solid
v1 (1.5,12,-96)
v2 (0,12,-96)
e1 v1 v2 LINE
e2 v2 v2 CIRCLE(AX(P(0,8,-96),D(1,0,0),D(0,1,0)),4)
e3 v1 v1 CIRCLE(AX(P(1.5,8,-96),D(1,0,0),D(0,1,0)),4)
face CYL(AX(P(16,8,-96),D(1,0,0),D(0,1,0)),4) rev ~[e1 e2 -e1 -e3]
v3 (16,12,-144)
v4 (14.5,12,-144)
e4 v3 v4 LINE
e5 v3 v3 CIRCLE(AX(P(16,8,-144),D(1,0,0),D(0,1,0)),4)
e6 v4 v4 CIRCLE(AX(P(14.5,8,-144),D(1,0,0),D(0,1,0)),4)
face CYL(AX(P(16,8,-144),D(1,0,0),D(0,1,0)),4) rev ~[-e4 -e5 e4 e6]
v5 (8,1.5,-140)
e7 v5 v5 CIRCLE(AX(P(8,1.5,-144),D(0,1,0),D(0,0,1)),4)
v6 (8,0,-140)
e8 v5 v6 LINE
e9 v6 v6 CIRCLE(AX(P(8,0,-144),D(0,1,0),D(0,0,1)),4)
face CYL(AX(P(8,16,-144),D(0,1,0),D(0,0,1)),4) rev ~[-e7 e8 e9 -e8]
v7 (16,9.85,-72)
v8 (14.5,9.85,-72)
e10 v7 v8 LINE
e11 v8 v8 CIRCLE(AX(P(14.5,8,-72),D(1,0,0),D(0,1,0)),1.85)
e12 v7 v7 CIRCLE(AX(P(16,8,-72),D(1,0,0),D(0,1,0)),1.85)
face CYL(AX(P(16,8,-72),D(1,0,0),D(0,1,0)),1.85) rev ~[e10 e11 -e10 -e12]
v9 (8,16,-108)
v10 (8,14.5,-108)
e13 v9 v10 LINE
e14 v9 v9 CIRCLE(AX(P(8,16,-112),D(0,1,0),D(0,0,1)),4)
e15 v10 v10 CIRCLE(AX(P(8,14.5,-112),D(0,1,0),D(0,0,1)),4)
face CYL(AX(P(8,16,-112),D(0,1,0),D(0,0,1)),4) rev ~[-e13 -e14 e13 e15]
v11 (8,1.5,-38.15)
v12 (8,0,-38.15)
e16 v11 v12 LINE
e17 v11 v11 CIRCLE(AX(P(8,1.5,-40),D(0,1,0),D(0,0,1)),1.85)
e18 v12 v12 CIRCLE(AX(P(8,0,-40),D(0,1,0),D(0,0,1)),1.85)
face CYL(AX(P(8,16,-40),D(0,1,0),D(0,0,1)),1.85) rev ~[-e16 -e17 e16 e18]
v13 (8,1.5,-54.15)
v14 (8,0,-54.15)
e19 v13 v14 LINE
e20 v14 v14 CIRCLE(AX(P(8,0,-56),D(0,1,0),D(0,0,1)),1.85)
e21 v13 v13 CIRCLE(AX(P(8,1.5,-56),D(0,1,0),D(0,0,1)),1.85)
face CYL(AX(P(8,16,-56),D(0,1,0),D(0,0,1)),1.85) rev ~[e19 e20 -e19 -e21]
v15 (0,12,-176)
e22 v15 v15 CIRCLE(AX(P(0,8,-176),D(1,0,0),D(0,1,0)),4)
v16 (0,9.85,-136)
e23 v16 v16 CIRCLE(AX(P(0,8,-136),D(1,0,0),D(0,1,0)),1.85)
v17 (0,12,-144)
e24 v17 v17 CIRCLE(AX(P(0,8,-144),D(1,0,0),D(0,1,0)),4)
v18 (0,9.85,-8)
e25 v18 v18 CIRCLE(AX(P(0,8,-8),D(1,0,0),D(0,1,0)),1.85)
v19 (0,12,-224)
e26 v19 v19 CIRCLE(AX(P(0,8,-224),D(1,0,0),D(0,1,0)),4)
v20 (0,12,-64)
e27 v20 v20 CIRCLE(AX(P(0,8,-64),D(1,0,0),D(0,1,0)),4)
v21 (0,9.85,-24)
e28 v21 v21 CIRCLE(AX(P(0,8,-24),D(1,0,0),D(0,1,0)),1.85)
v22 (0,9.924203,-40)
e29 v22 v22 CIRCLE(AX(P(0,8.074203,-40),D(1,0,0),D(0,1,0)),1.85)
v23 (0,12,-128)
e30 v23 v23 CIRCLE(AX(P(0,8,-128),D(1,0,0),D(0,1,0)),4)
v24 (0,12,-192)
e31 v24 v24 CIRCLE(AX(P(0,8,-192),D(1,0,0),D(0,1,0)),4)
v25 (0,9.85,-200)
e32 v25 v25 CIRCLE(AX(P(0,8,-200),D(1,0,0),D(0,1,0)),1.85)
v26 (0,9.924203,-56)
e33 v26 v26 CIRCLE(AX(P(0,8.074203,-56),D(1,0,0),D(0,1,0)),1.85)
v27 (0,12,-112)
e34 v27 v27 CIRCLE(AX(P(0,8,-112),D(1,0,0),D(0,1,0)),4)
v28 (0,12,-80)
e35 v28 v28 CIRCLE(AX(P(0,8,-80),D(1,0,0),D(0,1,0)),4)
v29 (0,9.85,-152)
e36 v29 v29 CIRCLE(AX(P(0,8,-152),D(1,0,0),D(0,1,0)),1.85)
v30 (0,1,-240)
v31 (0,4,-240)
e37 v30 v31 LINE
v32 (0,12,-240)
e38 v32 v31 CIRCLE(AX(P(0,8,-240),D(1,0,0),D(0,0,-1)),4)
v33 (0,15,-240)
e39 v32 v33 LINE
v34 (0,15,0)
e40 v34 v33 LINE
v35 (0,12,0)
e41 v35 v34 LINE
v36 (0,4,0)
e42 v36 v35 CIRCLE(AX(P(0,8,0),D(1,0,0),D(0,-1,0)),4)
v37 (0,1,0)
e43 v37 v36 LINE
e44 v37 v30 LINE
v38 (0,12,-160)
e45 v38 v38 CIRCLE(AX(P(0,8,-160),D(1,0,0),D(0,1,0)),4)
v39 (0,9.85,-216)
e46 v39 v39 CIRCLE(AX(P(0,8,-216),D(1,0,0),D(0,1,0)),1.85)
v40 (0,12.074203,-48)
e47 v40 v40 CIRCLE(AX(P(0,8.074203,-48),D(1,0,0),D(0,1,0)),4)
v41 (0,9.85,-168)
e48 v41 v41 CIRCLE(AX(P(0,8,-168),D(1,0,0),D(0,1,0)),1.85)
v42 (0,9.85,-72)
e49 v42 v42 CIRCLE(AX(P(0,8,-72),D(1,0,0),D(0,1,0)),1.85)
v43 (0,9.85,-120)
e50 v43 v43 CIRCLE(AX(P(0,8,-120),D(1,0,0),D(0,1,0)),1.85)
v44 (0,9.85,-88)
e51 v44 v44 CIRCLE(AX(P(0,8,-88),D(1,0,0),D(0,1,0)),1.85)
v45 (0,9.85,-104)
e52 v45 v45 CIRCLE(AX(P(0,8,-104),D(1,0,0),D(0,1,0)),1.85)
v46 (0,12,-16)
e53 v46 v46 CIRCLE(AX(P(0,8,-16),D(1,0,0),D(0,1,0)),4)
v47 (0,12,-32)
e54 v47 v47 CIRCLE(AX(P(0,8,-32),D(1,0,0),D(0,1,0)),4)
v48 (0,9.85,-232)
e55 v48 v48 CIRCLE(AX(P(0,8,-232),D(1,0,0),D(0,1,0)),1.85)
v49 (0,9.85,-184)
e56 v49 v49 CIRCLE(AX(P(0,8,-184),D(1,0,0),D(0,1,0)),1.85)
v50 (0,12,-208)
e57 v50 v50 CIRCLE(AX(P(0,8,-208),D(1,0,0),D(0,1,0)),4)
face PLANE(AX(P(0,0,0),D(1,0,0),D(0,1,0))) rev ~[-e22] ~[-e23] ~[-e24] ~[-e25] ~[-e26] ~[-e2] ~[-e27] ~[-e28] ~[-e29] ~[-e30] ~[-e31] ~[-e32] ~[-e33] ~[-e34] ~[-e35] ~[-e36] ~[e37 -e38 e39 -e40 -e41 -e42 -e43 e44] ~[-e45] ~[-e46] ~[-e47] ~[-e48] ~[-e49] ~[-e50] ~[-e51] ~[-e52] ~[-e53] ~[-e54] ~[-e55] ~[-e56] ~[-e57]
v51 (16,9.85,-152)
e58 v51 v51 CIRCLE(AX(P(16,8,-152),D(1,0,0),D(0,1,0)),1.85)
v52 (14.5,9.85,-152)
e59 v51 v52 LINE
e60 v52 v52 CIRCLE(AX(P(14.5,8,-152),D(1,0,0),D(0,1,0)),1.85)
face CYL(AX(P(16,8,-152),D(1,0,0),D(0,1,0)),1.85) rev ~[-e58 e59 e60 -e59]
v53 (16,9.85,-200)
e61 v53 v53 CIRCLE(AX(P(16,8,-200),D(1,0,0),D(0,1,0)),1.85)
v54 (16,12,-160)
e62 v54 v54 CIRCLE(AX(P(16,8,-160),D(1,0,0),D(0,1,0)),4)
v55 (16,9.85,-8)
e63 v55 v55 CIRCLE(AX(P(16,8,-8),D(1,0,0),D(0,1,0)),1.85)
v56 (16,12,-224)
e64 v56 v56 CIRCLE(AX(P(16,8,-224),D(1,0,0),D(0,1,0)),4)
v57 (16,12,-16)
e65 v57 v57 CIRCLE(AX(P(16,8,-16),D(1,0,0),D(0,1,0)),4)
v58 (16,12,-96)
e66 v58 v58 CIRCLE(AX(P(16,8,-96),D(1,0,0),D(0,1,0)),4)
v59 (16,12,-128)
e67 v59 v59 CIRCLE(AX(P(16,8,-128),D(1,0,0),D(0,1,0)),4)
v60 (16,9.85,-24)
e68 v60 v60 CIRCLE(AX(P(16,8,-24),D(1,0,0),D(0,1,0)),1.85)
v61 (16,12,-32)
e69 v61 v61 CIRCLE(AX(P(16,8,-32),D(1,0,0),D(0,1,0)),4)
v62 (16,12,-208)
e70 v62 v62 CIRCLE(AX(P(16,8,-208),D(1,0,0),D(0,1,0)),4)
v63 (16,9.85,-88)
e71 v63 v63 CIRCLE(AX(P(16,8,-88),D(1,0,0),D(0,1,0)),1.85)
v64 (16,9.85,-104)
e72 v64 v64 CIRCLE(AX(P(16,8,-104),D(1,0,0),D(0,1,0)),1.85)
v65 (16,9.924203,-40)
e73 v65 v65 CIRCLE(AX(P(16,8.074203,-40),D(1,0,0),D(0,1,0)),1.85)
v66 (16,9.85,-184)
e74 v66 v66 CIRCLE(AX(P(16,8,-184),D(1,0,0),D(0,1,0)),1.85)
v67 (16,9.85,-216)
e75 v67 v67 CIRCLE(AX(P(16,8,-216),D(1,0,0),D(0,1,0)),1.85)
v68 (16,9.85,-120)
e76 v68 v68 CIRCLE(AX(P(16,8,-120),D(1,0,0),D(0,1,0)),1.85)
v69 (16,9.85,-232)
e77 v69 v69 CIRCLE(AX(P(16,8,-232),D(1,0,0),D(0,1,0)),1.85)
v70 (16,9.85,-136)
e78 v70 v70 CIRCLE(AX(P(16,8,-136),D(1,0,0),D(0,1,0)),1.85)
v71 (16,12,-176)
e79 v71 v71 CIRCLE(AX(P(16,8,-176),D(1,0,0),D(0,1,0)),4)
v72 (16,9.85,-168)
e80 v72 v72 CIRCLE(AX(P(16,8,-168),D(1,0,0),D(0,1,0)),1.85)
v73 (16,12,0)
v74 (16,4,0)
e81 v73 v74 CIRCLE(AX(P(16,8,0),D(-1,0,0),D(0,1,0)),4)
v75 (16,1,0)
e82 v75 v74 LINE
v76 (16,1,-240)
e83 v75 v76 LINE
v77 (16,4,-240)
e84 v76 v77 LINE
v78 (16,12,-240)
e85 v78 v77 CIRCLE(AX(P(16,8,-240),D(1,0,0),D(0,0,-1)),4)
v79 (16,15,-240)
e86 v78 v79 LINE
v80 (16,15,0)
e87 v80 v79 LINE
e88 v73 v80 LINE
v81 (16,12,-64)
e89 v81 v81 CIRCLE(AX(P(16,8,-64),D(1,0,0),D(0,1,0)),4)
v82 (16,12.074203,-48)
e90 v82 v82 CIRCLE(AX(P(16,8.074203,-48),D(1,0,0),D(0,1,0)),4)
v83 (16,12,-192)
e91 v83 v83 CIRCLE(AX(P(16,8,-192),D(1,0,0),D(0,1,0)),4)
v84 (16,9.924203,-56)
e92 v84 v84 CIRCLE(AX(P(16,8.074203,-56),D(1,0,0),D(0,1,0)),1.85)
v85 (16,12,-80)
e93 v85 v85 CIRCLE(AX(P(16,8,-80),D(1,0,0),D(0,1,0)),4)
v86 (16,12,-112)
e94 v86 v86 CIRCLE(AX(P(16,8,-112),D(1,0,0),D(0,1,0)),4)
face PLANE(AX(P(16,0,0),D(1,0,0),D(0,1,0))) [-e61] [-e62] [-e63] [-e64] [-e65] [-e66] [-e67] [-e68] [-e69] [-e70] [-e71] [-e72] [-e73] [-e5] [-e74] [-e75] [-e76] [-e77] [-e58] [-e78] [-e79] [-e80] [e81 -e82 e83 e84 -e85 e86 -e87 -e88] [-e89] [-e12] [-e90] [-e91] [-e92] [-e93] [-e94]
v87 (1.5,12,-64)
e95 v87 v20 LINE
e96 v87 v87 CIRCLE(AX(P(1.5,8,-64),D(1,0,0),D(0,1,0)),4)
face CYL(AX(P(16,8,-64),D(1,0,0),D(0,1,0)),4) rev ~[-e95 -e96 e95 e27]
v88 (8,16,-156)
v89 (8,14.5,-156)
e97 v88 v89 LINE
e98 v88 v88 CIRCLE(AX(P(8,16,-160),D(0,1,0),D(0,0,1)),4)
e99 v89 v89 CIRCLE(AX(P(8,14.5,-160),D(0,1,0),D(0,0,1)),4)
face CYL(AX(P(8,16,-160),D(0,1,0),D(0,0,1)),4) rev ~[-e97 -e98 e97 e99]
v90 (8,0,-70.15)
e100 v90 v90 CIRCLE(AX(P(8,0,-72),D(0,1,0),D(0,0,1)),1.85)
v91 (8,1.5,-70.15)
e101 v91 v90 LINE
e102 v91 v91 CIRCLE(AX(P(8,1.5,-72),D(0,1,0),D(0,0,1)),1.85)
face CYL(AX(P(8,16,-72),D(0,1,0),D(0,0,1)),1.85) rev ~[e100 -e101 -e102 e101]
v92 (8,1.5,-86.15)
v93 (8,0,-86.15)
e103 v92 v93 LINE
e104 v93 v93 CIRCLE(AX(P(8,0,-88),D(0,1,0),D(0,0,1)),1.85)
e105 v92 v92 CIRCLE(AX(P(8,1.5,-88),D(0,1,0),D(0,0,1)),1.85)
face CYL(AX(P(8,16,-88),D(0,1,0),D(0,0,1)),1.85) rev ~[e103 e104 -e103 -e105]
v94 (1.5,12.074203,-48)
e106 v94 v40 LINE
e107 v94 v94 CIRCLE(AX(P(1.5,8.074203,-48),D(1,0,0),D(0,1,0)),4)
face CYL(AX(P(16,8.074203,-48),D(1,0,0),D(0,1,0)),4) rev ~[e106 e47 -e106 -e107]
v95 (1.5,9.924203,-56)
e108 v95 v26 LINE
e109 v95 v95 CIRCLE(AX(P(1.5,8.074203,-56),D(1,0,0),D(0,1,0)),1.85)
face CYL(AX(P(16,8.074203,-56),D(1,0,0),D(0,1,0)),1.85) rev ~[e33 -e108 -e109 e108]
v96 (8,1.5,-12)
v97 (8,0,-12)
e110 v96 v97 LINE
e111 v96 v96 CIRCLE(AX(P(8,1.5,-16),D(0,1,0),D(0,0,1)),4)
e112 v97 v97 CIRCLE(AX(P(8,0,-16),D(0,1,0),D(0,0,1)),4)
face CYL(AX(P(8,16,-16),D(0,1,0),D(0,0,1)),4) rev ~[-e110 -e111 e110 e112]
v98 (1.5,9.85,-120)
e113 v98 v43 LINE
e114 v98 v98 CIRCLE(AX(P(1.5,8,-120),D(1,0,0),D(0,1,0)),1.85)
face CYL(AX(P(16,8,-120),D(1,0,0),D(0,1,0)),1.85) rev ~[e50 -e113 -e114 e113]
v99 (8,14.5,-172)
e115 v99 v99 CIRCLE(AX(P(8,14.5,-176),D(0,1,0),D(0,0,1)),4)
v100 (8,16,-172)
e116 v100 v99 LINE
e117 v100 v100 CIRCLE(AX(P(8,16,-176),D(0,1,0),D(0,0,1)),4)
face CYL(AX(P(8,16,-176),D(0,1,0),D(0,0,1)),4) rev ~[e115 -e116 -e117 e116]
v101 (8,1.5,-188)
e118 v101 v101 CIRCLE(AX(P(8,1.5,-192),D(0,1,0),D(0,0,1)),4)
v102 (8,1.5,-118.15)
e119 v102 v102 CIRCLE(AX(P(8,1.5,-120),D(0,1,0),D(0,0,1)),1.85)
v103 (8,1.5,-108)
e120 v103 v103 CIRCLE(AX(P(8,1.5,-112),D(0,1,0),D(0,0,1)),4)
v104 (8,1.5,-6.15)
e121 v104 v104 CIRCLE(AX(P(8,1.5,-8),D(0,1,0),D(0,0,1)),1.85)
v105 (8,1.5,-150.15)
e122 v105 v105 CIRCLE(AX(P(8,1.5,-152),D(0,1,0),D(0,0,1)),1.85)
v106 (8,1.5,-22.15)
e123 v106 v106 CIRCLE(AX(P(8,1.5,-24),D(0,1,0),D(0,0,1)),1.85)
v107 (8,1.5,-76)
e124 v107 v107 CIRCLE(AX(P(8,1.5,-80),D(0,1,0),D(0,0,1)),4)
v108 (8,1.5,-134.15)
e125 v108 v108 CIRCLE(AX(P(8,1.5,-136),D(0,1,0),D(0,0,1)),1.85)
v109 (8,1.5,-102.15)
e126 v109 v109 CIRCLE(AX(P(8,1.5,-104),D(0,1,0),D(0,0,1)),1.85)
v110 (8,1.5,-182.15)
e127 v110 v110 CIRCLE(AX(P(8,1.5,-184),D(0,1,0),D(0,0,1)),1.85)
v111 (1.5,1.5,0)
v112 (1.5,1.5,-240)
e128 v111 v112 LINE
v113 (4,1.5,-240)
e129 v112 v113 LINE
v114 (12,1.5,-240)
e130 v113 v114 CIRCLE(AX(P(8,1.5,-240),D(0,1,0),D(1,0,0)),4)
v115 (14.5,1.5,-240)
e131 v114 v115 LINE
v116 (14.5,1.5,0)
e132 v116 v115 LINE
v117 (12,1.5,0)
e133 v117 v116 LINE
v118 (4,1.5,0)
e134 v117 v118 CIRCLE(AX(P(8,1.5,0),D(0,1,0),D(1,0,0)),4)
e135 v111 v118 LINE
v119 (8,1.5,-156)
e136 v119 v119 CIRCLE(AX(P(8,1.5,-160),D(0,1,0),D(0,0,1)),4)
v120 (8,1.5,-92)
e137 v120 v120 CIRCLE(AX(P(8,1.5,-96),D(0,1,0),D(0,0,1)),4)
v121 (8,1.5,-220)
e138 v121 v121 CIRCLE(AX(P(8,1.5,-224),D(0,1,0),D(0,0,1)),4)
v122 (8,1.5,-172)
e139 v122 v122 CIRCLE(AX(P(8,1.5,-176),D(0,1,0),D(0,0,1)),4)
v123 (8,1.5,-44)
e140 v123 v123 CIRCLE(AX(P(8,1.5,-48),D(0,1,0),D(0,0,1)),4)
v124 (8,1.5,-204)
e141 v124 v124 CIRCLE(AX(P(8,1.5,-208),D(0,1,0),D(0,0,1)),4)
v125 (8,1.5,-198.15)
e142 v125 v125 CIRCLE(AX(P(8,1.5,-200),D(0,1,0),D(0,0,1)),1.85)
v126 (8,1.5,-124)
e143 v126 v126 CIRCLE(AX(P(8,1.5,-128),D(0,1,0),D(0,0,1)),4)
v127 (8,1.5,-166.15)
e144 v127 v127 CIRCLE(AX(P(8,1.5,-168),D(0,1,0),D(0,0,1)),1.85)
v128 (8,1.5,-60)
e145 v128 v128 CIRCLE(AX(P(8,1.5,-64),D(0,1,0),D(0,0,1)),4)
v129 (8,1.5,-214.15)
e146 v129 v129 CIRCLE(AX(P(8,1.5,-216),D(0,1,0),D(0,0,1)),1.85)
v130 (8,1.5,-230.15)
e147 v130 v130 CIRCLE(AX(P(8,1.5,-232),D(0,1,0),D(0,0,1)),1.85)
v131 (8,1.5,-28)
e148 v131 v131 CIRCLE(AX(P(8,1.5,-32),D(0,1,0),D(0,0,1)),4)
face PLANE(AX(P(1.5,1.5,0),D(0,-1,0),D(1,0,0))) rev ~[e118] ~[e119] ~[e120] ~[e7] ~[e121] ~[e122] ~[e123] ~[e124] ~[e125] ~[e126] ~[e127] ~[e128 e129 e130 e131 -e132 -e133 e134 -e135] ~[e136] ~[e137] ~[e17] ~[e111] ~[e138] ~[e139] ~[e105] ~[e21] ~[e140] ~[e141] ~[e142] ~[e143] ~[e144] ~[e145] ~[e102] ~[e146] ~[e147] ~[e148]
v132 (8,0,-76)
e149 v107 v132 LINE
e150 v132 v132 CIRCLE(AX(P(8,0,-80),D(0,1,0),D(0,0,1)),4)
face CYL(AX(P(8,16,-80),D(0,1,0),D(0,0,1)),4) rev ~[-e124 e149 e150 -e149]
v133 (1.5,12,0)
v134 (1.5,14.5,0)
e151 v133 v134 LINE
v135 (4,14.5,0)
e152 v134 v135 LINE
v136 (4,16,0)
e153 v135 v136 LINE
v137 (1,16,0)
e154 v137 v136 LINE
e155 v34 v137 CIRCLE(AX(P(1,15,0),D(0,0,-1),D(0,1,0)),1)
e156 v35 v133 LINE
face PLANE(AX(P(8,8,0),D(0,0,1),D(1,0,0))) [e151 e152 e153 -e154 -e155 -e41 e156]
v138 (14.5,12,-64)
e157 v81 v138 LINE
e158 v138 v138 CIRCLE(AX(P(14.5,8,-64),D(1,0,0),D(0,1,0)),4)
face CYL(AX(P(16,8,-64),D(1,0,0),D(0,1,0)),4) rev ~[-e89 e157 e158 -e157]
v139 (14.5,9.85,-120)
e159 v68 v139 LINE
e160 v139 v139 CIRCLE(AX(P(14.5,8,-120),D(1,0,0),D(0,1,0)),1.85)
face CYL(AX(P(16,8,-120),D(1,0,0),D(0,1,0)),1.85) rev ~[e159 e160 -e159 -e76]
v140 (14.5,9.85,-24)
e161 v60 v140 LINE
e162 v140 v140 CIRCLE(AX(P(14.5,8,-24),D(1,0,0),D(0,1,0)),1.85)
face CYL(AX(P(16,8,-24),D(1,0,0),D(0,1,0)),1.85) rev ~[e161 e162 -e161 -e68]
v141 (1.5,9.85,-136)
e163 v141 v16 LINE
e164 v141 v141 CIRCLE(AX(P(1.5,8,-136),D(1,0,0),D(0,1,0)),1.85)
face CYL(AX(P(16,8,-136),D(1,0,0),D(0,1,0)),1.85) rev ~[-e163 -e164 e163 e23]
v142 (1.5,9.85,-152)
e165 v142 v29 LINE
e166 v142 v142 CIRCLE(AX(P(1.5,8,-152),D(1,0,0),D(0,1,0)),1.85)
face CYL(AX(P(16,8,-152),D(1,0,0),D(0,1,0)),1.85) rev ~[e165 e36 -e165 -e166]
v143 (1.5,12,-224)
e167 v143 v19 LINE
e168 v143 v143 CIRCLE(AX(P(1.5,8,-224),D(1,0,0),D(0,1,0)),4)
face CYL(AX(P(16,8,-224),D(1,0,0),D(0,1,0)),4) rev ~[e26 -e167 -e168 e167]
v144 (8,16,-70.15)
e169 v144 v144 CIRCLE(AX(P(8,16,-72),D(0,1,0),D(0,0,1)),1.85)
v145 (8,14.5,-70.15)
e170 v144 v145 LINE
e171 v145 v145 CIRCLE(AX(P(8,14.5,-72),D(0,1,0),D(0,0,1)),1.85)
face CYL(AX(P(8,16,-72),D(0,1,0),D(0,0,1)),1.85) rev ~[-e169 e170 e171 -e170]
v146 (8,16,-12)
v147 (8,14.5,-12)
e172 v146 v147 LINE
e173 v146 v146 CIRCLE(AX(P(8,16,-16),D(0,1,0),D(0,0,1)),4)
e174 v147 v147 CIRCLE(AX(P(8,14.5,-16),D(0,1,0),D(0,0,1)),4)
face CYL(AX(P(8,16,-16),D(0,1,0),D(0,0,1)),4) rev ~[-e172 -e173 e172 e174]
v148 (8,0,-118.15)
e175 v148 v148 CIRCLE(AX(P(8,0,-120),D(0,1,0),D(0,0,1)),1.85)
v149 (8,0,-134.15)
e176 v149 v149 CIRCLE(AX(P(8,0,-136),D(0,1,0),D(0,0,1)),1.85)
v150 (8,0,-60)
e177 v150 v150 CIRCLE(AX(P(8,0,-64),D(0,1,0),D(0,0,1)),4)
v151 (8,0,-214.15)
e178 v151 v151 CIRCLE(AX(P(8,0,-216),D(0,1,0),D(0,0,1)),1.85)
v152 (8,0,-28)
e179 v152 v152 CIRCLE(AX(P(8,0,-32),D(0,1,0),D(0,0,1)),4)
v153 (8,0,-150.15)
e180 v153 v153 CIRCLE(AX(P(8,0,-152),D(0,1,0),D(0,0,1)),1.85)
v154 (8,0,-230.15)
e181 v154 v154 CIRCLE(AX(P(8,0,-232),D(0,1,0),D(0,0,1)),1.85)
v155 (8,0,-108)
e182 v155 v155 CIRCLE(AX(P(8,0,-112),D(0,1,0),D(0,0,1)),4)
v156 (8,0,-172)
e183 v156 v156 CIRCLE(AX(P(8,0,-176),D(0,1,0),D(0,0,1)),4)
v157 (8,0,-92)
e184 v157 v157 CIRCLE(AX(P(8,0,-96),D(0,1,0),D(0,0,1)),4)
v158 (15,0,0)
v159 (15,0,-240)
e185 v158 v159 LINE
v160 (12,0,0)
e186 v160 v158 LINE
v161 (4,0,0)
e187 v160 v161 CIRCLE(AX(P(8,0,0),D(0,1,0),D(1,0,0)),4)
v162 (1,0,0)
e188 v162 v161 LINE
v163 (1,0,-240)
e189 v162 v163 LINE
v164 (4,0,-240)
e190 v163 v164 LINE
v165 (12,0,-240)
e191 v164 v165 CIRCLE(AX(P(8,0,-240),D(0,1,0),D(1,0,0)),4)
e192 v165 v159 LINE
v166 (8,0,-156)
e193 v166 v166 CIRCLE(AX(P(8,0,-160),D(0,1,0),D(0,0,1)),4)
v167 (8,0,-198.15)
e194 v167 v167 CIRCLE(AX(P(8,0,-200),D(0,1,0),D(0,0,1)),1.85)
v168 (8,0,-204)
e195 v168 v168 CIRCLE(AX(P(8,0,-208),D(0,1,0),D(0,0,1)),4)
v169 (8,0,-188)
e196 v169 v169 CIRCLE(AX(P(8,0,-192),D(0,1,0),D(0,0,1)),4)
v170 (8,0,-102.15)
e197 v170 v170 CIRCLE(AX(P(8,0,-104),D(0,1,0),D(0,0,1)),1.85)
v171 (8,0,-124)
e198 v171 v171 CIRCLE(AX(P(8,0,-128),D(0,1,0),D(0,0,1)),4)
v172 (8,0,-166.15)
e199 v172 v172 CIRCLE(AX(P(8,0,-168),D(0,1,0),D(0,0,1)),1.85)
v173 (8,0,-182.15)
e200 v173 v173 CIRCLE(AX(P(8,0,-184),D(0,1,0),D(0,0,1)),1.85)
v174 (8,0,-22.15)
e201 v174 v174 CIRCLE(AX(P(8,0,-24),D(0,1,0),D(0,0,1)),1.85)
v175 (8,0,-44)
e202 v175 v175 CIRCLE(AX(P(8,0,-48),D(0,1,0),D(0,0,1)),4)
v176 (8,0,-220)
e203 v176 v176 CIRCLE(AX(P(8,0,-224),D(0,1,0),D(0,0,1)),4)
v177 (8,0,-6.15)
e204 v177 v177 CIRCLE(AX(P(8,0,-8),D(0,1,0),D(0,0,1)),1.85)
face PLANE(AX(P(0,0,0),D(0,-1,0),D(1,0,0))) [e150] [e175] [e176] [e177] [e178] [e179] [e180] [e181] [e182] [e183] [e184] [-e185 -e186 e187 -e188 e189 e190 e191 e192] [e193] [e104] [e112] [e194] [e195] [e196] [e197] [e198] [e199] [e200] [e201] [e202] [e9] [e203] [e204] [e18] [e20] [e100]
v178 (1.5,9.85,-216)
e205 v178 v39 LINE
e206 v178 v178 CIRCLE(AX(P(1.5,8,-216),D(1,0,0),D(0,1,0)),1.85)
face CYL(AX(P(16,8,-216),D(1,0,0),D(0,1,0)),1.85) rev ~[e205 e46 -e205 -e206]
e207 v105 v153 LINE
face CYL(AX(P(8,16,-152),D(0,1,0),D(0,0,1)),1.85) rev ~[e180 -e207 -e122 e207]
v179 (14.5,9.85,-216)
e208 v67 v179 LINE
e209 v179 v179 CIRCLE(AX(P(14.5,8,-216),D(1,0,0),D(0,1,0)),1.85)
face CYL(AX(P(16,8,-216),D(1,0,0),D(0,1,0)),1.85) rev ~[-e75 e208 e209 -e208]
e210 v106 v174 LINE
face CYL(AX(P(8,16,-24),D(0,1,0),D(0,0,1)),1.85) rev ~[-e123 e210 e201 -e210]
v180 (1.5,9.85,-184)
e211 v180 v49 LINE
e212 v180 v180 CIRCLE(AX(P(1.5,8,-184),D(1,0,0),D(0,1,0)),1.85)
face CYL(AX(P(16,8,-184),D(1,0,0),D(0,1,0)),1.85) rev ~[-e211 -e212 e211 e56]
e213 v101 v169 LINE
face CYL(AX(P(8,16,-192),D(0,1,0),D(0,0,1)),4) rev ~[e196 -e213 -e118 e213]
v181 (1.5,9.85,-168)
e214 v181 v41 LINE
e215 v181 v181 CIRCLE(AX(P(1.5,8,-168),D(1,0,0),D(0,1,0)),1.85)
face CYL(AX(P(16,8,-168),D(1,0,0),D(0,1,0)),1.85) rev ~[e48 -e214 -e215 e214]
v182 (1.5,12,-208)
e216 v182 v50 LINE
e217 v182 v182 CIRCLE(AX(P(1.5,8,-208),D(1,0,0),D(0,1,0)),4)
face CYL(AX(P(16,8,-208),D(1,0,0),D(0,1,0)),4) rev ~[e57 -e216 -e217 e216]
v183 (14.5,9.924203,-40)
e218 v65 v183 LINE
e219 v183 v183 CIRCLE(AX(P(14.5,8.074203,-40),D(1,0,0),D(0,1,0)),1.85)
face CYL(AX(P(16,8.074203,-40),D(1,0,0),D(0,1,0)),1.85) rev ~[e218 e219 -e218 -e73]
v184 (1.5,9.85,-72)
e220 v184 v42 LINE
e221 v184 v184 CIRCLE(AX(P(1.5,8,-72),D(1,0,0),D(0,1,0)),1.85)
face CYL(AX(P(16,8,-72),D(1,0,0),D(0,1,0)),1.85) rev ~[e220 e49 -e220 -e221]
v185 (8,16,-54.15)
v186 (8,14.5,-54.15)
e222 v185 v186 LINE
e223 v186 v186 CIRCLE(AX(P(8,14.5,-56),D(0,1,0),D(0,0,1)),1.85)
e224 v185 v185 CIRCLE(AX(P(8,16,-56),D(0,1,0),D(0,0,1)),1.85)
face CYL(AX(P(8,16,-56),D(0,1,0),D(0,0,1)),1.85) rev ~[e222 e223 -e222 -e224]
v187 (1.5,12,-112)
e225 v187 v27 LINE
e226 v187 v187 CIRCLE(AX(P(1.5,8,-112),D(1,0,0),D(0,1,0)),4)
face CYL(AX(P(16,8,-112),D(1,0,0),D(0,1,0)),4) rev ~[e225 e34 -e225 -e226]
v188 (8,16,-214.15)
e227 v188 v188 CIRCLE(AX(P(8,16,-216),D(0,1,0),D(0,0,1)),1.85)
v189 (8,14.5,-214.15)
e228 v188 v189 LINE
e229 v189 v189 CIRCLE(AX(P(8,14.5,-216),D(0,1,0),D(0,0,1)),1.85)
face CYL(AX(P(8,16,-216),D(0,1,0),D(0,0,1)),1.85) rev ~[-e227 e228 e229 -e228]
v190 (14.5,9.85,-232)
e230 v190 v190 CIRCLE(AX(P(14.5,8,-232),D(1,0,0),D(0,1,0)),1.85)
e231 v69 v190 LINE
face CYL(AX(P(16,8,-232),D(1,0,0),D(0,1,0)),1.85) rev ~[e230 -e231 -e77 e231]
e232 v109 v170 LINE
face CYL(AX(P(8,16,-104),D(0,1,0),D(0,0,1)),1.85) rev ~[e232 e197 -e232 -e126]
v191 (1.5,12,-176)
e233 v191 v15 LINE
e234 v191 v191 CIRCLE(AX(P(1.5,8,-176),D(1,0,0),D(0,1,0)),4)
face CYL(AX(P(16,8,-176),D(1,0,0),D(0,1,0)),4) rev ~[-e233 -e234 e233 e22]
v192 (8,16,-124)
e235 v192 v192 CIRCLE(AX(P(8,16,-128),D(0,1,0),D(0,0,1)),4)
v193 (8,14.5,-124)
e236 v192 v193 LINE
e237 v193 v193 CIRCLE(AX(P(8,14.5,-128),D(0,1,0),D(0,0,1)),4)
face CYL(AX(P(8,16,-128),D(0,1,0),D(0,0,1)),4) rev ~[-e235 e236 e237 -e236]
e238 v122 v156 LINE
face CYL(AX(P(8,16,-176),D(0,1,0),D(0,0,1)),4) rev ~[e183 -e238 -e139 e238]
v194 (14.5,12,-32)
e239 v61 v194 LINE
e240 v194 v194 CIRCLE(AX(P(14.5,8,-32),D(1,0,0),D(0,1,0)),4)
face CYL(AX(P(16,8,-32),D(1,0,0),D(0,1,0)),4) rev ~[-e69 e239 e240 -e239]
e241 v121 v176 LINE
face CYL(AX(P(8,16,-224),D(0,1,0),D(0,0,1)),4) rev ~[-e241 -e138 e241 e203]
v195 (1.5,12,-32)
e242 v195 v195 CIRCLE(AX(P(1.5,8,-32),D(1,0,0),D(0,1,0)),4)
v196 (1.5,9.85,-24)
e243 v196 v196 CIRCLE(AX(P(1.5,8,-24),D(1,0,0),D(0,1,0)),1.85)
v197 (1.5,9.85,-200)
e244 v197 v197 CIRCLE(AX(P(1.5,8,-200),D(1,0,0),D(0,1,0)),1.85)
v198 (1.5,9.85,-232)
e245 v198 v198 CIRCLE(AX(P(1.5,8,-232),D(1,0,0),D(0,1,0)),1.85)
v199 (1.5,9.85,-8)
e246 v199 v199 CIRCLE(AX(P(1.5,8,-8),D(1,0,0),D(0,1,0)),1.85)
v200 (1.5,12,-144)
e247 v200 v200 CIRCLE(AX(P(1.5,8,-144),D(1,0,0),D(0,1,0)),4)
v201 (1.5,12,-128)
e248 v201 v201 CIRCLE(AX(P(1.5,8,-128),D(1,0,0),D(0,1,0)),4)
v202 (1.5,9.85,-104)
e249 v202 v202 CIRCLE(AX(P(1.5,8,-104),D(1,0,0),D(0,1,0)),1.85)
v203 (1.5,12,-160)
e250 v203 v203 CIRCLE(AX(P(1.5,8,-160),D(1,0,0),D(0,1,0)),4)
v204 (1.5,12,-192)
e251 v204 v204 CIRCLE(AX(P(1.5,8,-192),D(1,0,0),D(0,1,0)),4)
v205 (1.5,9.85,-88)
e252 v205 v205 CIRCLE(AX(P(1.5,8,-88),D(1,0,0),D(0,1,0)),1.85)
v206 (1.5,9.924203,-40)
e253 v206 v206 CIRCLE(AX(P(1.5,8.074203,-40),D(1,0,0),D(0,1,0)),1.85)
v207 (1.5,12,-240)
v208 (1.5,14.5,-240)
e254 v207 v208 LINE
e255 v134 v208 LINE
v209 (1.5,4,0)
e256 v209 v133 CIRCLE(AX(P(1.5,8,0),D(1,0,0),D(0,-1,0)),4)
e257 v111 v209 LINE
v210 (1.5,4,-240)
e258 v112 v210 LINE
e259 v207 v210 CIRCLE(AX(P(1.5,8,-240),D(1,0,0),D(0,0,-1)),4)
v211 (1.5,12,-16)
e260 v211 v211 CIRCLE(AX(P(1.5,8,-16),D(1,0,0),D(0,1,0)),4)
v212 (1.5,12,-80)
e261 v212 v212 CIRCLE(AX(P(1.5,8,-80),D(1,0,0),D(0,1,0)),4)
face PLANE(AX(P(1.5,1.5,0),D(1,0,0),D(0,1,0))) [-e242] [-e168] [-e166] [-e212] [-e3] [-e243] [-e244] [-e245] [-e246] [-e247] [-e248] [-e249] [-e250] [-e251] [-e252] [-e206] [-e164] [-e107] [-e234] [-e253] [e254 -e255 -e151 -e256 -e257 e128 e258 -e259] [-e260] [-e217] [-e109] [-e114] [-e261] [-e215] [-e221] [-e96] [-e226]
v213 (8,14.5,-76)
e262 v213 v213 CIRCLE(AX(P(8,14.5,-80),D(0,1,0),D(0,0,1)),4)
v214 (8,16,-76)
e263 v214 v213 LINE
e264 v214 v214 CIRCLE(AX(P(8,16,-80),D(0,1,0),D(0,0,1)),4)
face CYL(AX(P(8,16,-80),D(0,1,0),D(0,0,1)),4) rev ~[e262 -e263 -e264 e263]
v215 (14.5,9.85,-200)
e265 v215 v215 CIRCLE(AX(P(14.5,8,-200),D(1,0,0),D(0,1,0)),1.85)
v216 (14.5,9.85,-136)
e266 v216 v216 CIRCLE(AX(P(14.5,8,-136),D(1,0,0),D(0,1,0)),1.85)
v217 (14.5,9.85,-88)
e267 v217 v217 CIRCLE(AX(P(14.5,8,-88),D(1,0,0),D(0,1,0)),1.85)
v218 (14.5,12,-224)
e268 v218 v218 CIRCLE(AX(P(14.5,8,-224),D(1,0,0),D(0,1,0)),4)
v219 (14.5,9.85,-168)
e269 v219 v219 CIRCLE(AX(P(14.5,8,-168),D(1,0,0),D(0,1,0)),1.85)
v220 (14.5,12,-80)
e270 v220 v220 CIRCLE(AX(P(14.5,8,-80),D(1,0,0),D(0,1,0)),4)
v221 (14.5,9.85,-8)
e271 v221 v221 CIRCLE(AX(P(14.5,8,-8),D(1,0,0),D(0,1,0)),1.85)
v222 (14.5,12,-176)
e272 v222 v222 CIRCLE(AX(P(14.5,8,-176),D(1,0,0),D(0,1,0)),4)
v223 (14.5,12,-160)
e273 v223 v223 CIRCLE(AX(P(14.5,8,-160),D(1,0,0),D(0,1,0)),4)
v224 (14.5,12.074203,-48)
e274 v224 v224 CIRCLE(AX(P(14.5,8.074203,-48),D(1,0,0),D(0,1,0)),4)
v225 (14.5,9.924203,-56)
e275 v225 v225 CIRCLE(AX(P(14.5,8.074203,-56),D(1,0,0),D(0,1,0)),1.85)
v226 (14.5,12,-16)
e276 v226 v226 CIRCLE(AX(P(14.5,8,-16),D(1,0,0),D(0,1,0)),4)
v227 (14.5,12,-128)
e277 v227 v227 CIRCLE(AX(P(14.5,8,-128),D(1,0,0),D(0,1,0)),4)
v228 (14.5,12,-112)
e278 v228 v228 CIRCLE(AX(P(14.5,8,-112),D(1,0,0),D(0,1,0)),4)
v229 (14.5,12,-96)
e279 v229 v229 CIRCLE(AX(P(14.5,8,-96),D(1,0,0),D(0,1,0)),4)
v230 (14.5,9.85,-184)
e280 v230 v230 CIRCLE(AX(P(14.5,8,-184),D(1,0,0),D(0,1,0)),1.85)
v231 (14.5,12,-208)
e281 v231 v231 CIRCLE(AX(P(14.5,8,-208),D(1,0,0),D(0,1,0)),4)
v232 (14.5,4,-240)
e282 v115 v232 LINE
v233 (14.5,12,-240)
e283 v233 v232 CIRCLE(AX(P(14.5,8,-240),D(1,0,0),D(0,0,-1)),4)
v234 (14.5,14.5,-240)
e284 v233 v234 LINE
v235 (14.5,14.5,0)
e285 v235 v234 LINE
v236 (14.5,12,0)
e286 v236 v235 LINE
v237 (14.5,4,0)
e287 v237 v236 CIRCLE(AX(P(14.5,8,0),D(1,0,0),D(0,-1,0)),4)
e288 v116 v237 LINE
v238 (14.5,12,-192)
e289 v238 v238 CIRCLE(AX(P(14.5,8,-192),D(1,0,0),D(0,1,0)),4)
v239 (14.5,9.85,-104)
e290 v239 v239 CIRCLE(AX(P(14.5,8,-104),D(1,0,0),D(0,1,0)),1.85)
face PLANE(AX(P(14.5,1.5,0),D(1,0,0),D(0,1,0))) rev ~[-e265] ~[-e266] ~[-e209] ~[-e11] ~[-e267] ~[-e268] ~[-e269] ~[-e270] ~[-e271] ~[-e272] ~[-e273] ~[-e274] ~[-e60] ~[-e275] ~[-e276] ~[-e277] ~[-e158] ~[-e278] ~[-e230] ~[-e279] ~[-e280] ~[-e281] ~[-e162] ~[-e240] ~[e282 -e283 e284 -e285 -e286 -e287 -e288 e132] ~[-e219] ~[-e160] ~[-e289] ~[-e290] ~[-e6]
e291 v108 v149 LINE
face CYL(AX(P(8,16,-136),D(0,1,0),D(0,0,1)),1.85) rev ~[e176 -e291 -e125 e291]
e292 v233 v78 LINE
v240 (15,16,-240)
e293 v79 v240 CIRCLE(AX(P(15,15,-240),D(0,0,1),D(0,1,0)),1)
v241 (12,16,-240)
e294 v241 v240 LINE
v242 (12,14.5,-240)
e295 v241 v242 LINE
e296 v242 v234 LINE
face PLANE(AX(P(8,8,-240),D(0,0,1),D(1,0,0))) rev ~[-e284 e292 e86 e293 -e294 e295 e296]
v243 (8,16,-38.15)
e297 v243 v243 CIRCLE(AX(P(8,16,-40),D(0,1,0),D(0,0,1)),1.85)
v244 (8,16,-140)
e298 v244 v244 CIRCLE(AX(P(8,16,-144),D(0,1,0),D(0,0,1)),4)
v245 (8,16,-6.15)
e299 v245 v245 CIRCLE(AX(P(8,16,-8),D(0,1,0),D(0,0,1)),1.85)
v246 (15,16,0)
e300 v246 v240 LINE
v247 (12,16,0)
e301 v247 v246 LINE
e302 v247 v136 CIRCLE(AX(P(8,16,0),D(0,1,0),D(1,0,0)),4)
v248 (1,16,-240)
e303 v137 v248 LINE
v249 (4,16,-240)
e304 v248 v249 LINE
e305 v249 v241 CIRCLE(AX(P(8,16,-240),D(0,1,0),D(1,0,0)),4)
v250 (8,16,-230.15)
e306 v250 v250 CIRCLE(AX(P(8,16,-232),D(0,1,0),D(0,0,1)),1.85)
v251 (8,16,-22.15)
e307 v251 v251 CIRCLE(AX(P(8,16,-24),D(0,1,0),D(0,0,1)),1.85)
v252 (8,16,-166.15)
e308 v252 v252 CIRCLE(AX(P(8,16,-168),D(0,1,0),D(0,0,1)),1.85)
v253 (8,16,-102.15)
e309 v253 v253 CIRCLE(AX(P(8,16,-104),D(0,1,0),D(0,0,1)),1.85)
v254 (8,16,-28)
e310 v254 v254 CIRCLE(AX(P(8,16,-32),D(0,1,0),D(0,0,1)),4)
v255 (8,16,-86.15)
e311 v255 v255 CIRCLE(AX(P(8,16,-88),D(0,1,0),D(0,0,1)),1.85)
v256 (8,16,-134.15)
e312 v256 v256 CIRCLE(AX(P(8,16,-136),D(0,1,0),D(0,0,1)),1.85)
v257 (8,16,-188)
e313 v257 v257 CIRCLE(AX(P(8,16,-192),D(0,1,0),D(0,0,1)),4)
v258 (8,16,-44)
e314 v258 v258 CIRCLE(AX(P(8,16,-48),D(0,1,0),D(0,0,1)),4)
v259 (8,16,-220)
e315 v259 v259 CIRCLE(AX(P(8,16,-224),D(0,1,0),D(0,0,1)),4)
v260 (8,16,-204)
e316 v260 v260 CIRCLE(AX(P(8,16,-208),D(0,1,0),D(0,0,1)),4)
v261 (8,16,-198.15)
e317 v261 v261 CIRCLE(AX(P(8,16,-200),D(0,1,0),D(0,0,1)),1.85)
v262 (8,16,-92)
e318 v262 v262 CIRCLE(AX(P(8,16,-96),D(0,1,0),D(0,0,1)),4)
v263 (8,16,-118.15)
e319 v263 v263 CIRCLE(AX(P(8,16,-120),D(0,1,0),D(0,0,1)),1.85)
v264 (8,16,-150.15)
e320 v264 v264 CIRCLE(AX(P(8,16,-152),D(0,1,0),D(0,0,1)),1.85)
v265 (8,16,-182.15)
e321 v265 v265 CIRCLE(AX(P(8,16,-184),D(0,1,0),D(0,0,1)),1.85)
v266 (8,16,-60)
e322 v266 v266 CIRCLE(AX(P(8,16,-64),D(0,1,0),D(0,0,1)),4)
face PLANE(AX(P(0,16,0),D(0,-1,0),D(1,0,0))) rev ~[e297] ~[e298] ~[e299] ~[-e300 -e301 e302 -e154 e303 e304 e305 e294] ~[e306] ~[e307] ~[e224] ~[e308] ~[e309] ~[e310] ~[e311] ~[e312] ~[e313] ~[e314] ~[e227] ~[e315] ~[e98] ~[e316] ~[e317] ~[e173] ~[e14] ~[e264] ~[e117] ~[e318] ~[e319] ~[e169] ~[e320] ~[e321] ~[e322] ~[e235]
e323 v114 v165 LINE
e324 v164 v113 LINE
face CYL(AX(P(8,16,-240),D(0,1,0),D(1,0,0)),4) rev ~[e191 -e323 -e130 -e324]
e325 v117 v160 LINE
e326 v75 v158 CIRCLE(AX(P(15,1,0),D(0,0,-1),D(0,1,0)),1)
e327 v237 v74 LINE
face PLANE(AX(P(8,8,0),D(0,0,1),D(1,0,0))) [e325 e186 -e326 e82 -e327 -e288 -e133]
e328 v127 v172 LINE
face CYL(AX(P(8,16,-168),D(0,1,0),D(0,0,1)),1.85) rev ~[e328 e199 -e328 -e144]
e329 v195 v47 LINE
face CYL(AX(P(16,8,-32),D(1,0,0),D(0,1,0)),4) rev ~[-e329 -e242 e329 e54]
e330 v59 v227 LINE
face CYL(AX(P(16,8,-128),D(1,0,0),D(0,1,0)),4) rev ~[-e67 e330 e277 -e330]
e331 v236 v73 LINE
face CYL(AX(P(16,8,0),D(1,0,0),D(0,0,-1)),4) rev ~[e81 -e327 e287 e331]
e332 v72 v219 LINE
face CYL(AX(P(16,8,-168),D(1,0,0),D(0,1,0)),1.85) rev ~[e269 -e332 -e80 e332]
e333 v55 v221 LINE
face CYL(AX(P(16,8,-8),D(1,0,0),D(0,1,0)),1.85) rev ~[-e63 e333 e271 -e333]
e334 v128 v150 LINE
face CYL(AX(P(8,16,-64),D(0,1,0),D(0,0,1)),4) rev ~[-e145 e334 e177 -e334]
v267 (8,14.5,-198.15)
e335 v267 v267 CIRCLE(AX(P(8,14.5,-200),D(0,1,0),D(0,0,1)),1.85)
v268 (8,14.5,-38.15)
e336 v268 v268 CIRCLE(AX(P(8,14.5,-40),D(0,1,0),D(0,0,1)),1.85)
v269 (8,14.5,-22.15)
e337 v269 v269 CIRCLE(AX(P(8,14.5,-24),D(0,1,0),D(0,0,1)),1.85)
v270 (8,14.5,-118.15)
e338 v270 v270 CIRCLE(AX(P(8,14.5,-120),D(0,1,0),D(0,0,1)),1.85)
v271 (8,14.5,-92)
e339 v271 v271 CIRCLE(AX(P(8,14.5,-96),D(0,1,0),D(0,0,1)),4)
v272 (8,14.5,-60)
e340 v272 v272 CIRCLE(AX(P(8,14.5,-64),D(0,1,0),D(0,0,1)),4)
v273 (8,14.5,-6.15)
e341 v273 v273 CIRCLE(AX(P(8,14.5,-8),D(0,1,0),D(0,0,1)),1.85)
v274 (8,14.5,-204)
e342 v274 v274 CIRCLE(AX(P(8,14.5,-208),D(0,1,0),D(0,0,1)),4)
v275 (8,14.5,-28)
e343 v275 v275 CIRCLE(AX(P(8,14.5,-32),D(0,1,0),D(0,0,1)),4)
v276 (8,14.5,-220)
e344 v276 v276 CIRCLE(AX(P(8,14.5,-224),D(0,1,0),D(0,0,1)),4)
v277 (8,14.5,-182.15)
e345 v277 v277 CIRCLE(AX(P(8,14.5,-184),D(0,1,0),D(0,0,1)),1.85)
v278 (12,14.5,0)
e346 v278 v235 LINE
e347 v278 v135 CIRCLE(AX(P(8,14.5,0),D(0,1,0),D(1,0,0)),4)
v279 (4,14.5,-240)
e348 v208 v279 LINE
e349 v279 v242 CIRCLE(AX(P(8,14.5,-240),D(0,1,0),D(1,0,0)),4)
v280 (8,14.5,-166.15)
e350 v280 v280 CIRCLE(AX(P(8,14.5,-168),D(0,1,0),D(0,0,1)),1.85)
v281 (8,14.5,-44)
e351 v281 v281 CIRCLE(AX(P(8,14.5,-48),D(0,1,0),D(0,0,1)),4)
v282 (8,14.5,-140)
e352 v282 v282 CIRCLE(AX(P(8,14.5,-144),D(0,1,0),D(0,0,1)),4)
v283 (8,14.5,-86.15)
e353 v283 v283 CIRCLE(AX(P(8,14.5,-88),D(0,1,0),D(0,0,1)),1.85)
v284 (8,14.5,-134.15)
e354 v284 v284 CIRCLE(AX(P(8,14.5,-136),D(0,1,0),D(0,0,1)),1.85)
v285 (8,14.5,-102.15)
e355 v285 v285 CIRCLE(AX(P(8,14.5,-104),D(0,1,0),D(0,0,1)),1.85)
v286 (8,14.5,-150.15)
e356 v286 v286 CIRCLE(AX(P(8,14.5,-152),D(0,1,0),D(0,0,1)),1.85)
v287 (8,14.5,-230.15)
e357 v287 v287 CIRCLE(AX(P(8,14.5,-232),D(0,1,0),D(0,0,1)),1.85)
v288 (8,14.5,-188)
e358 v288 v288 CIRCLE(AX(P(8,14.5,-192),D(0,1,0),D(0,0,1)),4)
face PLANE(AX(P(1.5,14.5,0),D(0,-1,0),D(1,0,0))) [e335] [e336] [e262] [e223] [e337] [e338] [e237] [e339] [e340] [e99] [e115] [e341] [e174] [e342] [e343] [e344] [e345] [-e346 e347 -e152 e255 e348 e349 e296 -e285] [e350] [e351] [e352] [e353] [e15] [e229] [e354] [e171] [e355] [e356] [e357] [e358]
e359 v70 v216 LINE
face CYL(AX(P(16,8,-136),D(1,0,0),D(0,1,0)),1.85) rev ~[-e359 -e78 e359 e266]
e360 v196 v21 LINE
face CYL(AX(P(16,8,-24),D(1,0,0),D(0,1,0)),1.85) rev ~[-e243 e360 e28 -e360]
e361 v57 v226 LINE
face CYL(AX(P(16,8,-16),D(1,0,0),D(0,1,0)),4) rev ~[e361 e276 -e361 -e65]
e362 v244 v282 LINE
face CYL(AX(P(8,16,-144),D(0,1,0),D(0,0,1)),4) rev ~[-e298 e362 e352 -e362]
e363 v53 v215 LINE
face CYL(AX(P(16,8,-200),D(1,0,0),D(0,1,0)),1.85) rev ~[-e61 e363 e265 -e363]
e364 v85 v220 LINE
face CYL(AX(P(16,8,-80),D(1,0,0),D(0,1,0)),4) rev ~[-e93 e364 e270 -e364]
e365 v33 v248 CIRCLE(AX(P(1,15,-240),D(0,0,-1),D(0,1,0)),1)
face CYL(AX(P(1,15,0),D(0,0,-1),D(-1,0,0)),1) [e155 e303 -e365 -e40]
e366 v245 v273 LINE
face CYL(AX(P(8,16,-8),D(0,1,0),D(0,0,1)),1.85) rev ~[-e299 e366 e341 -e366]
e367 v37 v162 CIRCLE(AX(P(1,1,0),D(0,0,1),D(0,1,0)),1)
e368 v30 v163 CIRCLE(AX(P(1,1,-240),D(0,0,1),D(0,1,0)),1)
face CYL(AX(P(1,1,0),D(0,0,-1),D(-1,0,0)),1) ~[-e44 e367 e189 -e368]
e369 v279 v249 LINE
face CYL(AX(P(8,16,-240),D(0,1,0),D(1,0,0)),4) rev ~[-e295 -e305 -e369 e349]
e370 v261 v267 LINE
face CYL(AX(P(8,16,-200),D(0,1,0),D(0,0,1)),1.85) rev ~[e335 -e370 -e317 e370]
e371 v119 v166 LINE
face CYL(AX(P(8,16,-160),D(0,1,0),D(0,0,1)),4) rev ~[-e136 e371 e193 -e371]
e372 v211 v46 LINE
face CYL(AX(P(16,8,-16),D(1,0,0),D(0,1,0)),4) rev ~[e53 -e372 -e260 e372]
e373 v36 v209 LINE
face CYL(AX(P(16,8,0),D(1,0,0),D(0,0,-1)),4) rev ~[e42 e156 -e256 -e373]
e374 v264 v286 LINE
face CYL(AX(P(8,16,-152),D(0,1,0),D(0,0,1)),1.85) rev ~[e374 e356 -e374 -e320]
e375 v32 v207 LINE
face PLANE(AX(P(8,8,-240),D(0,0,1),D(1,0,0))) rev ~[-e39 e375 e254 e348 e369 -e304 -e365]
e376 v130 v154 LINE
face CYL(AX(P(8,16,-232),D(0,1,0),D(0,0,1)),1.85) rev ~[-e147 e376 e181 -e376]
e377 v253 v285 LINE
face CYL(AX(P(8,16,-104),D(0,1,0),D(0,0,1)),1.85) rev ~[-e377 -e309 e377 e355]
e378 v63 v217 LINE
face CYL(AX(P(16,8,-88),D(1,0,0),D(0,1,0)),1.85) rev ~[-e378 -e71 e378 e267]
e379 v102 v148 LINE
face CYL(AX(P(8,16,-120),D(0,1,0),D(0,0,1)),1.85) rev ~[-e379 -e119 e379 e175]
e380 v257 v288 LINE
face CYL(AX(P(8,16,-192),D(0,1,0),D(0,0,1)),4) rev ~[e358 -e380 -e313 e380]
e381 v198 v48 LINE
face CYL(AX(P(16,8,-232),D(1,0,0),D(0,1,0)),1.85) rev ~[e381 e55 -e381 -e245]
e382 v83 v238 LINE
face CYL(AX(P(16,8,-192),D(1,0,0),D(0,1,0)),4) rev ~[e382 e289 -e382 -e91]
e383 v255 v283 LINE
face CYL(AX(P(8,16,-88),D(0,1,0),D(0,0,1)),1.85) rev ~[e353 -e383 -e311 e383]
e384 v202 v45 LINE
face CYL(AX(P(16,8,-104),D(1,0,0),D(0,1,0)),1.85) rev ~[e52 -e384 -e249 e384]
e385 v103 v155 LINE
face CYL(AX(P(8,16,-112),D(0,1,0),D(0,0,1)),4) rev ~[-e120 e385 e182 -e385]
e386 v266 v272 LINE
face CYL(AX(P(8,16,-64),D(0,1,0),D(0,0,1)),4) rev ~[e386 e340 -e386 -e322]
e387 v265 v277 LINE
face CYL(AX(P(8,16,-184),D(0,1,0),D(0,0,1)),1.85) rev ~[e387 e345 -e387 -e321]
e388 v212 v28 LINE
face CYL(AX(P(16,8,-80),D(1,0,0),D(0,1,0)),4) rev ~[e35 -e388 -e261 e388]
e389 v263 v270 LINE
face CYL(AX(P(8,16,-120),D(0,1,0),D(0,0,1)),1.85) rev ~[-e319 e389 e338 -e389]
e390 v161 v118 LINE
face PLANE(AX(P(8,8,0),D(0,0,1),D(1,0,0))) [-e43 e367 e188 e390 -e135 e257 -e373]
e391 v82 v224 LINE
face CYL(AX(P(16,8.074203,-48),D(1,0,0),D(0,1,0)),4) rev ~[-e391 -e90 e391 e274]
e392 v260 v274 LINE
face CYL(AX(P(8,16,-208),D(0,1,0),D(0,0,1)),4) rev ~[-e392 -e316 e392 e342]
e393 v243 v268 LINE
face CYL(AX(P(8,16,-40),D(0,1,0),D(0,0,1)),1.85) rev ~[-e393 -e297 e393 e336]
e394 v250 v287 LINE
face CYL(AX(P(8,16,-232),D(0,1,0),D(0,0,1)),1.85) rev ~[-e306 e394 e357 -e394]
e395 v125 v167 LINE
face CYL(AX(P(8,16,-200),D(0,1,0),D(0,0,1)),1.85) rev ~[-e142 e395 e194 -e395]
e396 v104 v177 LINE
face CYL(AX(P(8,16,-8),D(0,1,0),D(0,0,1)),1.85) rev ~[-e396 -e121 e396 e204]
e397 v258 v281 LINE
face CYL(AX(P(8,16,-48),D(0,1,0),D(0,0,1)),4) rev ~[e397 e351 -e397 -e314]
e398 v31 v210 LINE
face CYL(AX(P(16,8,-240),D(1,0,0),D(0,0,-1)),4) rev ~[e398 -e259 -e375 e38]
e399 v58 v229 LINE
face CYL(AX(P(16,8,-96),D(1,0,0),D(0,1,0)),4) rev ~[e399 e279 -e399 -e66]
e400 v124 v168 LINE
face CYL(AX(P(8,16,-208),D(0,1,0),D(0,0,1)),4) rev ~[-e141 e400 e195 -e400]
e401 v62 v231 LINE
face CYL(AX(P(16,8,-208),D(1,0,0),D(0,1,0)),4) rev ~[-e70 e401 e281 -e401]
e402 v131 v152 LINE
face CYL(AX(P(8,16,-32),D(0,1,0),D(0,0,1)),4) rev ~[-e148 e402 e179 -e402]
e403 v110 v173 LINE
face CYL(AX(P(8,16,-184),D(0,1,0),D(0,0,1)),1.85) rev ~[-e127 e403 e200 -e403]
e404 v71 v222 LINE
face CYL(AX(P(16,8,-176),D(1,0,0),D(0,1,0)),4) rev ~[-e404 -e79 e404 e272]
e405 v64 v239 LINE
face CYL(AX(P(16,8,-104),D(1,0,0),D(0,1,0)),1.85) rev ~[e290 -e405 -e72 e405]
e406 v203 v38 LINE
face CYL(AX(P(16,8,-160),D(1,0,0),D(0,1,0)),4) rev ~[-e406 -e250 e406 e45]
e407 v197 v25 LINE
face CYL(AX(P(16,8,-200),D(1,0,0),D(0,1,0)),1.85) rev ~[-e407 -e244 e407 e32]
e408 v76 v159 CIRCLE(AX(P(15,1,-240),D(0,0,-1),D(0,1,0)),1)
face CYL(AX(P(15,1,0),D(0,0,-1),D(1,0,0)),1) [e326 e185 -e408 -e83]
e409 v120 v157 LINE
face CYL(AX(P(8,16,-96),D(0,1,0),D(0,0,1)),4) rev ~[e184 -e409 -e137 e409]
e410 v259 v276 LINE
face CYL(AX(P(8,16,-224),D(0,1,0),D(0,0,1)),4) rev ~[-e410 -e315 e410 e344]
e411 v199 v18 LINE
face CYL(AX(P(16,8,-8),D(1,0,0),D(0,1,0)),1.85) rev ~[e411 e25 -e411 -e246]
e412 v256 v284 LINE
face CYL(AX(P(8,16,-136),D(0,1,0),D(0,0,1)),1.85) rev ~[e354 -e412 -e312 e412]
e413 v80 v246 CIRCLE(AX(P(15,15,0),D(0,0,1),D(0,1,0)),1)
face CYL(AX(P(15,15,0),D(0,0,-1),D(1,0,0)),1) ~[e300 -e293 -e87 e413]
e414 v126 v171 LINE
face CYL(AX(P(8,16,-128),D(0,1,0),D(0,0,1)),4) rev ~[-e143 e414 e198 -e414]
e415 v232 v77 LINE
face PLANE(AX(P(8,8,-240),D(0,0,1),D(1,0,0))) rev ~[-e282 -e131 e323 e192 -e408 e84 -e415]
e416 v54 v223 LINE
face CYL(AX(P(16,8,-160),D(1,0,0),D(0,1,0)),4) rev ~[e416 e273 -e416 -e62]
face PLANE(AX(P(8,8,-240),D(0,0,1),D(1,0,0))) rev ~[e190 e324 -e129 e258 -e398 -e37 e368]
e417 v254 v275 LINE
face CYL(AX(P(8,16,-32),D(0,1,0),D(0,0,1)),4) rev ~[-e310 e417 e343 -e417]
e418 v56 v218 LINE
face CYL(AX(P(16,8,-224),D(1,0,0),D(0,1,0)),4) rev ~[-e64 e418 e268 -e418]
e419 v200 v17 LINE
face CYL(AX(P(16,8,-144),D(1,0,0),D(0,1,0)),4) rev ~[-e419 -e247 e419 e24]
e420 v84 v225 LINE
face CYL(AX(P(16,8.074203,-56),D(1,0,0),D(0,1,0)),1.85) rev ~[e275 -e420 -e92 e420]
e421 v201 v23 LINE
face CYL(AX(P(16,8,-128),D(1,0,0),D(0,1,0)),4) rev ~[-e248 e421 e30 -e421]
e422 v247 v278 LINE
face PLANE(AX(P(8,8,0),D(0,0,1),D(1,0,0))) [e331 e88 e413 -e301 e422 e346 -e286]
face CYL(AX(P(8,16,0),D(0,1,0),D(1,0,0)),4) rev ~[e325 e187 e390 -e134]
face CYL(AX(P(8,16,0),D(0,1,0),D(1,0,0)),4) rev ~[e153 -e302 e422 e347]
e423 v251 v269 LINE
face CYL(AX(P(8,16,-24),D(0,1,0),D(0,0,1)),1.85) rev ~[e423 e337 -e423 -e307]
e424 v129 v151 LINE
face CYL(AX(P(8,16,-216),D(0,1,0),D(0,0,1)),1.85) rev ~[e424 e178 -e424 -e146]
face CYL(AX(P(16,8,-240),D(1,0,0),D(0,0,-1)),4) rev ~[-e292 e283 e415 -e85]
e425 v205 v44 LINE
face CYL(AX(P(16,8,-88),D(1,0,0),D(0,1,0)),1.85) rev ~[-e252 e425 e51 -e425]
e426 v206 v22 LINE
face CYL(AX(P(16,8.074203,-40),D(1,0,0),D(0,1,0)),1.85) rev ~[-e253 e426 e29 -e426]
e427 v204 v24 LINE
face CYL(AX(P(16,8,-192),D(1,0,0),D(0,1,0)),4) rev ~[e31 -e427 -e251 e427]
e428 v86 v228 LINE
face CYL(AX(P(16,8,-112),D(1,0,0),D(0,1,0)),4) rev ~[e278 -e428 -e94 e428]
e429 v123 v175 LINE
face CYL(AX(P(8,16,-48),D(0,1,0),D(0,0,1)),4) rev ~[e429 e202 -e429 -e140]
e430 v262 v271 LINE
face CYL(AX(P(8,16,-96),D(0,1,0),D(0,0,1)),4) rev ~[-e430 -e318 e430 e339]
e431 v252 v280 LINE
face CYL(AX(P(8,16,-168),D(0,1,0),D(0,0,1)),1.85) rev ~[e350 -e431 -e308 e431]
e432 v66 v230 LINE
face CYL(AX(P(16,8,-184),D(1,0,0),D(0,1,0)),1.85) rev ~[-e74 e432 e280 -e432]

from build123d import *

# Parameters (mm, degrees)
SKETCH1_W      = 16
SKETCH1_H      = 16
EXTRUDE1_DEPTH = 240
SKETCH2_W      = 13
SKETCH2_H      = 13
EXTRUDE2_DEPTH = 242.064306773
SKETCH3_R      = 4
SKETCH3_R_2    = 1.85
EXTRUDE3_DEPTH = 242.064306773
SKETCH4_R      = 4
SKETCH4_R_2    = 1.85
EXTRUDE4_DEPTH = 242.064306773
FILLET1_R      = 1


with BuildPart() as part:
    # Sketch1 → Extrude1 (new body)
    with BuildSketch(Plane.XY):
        with Locations((8, 8)):
            Rectangle(SKETCH1_W, SKETCH1_H)
    extrude(amount=-EXTRUDE1_DEPTH)

    # Sketch2 → Extrude2 (cut, through all)
    with BuildSketch(Plane.XY):
        with Locations((8, 8)):
            Rectangle(SKETCH2_W, SKETCH2_H)
    extrude(amount=-EXTRUDE2_DEPTH, mode=Mode.SUBTRACT)

    # Sketch3 → Extrude3 (cut, through all)
    with BuildSketch(Plane(origin=(0, 16, 0), x_dir=(1, 0, 0), z_dir=(0, 1, 0))):
        with Locations(Location((8, 64, 0), (0, 0, 270))):
            Circle(SKETCH3_R)
        with Locations(Location((8, 32, 0), (0, 0, 270))):
            Circle(SKETCH3_R)
        with Locations((8, 0)):
            Circle(SKETCH3_R)
        with Locations(Location((8, 96, 0), (0, 0, 270))):
            Circle(SKETCH3_R)
        with Locations(Location((8, 128, 0), (0, 0, 270))):
            Circle(SKETCH3_R)
        with Locations(Location((8, 160, 0), (0, 0, 270))):
            Circle(SKETCH3_R)
        with Locations(Location((8, 192, 0), (0, 0, 270))):
            Circle(SKETCH3_R)
        with Locations(Location((8, 224, 0), (0, 0, 270))):
            Circle(SKETCH3_R)
        with Locations((8, 256)):
            Circle(SKETCH3_R)
        with Locations(Location((8, 48, 0), (0, 0, 270))):
            Circle(SKETCH3_R)
        with Locations(Location((8, 56, 0), (0, 0, 270))):
            Circle(SKETCH3_R_2)
        with Locations(Location((8, 40, 0), (0, 0, 270))):
            Circle(SKETCH3_R_2)
        with Locations(Location((8, 80, 0), (0, 0, 270))):
            Circle(SKETCH3_R)
        with Locations(Location((8, 88, 0), (0, 0, 270))):
            Circle(SKETCH3_R_2)
        with Locations(Location((8, 72, 0), (0, 0, 270))):
            Circle(SKETCH3_R_2)
        with Locations(Location((8, 16, 0), (0, 0, 270))):
            Circle(SKETCH3_R)
        with Locations(Location((8, 24, 0), (0, 0, 270))):
            Circle(SKETCH3_R_2)
        with Locations(Location((8, 8, 0), (0, 0, 270))):
            Circle(SKETCH3_R_2)
        with Locations(Location((8, 112, 0), (0, 0, 270))):
            Circle(SKETCH3_R)
        with Locations(Location((8, 120, 0), (0, 0, 270))):
            Circle(SKETCH3_R_2)
        with Locations(Location((8, 104, 0), (0, 0, 270))):
            Circle(SKETCH3_R_2)
        with Locations(Location((8, 144, 0), (0, 0, 270))):
            Circle(SKETCH3_R)
        with Locations(Location((8, 152, 0), (0, 0, 270))):
            Circle(SKETCH3_R_2)
        with Locations(Location((8, 136, 0), (0, 0, 270))):
            Circle(SKETCH3_R_2)
        with Locations(Location((8, 176, 0), (0, 0, 270))):
            Circle(SKETCH3_R)
        with Locations(Location((8, 184, 0), (0, 0, 270))):
            Circle(SKETCH3_R_2)
        with Locations(Location((8, 168, 0), (0, 0, 270))):
            Circle(SKETCH3_R_2)
        with Locations(Location((8, 208, 0), (0, 0, 270))):
            Circle(SKETCH3_R)
        with Locations(Location((8, 216, 0), (0, 0, 270))):
            Circle(SKETCH3_R_2)
        with Locations(Location((8, 200, 0), (0, 0, 270))):
            Circle(SKETCH3_R_2)
        with Locations((8, 240)):
            Circle(SKETCH3_R)
        with Locations((8, 248)):
            Circle(SKETCH3_R_2)
        with Locations(Location((8, 232, 0), (0, 0, 270))):
            Circle(SKETCH3_R_2)
    extrude(amount=-EXTRUDE3_DEPTH, mode=Mode.SUBTRACT)

    # Sketch4 → Extrude4 (cut, through all)
    with BuildSketch(Plane(origin=(16, 0, 0), x_dir=(0, 0, -1), z_dir=(1, 0, 0))):
        with Locations(Location((32, 8, 0), (0, 0, 90))):
            Circle(SKETCH4_R)
        with Locations(Location((64, 8, 0), (0, 0, 90))):
            Circle(SKETCH4_R)
        with Locations((0, 8)):
            Circle(SKETCH4_R)
        with Locations(Location((96, 8, 0), (0, 0, 90))):
            Circle(SKETCH4_R)
        with Locations(Location((128, 8, 0), (0, 0, 90))):
            Circle(SKETCH4_R)
        with Locations(Location((160, 8, 0), (0, 0, 90))):
            Circle(SKETCH4_R)
        with Locations(Location((192, 8, 0), (0, 0, 90))):
            Circle(SKETCH4_R)
        with Locations(Location((224, 8, 0), (0, 0, 90))):
            Circle(SKETCH4_R)
        with Locations((256, 8)):
            Circle(SKETCH4_R)
        with Locations(Location((48, 8.074203, 0), (0, 0, 90))):
            Circle(SKETCH4_R)
        with Locations(Location((40, 8.074203, 0), (0, 0, 90))):
            Circle(SKETCH4_R_2)
        with Locations(Location((56, 8.074203, 0), (0, 0, 90))):
            Circle(SKETCH4_R_2)
        with Locations(Location((80, 8, 0), (0, 0, 90))):
            Circle(SKETCH4_R)
        with Locations(Location((72, 8, 0), (0, 0, 90))):
            Circle(SKETCH4_R_2)
        with Locations(Location((88, 8, 0), (0, 0, 90))):
            Circle(SKETCH4_R_2)
        with Locations(Location((16, 8, 0), (0, 0, 90))):
            Circle(SKETCH4_R)
        with Locations(Location((8, 8, 0), (0, 0, 90))):
            Circle(SKETCH4_R_2)
        with Locations(Location((24, 8, 0), (0, 0, 90))):
            Circle(SKETCH4_R_2)
        with Locations(Location((112, 8, 0), (0, 0, 90))):
            Circle(SKETCH4_R)
        with Locations(Location((104, 8, 0), (0, 0, 90))):
            Circle(SKETCH4_R_2)
        with Locations(Location((120, 8, 0), (0, 0, 90))):
            Circle(SKETCH4_R_2)
        with Locations(Location((144, 8, 0), (0, 0, 90))):
            Circle(SKETCH4_R)
        with Locations(Location((136, 8, 0), (0, 0, 90))):
            Circle(SKETCH4_R_2)
        with Locations(Location((152, 8, 0), (0, 0, 90))):
            Circle(SKETCH4_R_2)
        with Locations(Location((176, 8, 0), (0, 0, 90))):
            Circle(SKETCH4_R)
        with Locations(Location((168, 8, 0), (0, 0, 90))):
            Circle(SKETCH4_R_2)
        with Locations(Location((184, 8, 0), (0, 0, 90))):
            Circle(SKETCH4_R_2)
        with Locations(Location((208, 8, 0), (0, 0, 90))):
            Circle(SKETCH4_R)
        with Locations(Location((200, 8, 0), (0, 0, 90))):
            Circle(SKETCH4_R_2)
        with Locations(Location((216, 8, 0), (0, 0, 90))):
            Circle(SKETCH4_R_2)
        with Locations((240, 8)):
            Circle(SKETCH4_R)
        with Locations(Location((232, 8, 0), (0, 0, 90))):
            Circle(SKETCH4_R_2)
        with Locations((248, 8)):
            Circle(SKETCH4_R_2)
    extrude(amount=-EXTRUDE4_DEPTH, mode=Mode.SUBTRACT)

    # Fillet1
    fillet1_edges = [part.edges().sort_by_distance(p)[0] for p in [
        (0, 16, -120),
        (16, 16, -120),
        (16, 0, -120),
        (0, 0, -120),
    ]]
    fillet(fillet1_edges, radius=FILLET1_R)


solid = part.part
